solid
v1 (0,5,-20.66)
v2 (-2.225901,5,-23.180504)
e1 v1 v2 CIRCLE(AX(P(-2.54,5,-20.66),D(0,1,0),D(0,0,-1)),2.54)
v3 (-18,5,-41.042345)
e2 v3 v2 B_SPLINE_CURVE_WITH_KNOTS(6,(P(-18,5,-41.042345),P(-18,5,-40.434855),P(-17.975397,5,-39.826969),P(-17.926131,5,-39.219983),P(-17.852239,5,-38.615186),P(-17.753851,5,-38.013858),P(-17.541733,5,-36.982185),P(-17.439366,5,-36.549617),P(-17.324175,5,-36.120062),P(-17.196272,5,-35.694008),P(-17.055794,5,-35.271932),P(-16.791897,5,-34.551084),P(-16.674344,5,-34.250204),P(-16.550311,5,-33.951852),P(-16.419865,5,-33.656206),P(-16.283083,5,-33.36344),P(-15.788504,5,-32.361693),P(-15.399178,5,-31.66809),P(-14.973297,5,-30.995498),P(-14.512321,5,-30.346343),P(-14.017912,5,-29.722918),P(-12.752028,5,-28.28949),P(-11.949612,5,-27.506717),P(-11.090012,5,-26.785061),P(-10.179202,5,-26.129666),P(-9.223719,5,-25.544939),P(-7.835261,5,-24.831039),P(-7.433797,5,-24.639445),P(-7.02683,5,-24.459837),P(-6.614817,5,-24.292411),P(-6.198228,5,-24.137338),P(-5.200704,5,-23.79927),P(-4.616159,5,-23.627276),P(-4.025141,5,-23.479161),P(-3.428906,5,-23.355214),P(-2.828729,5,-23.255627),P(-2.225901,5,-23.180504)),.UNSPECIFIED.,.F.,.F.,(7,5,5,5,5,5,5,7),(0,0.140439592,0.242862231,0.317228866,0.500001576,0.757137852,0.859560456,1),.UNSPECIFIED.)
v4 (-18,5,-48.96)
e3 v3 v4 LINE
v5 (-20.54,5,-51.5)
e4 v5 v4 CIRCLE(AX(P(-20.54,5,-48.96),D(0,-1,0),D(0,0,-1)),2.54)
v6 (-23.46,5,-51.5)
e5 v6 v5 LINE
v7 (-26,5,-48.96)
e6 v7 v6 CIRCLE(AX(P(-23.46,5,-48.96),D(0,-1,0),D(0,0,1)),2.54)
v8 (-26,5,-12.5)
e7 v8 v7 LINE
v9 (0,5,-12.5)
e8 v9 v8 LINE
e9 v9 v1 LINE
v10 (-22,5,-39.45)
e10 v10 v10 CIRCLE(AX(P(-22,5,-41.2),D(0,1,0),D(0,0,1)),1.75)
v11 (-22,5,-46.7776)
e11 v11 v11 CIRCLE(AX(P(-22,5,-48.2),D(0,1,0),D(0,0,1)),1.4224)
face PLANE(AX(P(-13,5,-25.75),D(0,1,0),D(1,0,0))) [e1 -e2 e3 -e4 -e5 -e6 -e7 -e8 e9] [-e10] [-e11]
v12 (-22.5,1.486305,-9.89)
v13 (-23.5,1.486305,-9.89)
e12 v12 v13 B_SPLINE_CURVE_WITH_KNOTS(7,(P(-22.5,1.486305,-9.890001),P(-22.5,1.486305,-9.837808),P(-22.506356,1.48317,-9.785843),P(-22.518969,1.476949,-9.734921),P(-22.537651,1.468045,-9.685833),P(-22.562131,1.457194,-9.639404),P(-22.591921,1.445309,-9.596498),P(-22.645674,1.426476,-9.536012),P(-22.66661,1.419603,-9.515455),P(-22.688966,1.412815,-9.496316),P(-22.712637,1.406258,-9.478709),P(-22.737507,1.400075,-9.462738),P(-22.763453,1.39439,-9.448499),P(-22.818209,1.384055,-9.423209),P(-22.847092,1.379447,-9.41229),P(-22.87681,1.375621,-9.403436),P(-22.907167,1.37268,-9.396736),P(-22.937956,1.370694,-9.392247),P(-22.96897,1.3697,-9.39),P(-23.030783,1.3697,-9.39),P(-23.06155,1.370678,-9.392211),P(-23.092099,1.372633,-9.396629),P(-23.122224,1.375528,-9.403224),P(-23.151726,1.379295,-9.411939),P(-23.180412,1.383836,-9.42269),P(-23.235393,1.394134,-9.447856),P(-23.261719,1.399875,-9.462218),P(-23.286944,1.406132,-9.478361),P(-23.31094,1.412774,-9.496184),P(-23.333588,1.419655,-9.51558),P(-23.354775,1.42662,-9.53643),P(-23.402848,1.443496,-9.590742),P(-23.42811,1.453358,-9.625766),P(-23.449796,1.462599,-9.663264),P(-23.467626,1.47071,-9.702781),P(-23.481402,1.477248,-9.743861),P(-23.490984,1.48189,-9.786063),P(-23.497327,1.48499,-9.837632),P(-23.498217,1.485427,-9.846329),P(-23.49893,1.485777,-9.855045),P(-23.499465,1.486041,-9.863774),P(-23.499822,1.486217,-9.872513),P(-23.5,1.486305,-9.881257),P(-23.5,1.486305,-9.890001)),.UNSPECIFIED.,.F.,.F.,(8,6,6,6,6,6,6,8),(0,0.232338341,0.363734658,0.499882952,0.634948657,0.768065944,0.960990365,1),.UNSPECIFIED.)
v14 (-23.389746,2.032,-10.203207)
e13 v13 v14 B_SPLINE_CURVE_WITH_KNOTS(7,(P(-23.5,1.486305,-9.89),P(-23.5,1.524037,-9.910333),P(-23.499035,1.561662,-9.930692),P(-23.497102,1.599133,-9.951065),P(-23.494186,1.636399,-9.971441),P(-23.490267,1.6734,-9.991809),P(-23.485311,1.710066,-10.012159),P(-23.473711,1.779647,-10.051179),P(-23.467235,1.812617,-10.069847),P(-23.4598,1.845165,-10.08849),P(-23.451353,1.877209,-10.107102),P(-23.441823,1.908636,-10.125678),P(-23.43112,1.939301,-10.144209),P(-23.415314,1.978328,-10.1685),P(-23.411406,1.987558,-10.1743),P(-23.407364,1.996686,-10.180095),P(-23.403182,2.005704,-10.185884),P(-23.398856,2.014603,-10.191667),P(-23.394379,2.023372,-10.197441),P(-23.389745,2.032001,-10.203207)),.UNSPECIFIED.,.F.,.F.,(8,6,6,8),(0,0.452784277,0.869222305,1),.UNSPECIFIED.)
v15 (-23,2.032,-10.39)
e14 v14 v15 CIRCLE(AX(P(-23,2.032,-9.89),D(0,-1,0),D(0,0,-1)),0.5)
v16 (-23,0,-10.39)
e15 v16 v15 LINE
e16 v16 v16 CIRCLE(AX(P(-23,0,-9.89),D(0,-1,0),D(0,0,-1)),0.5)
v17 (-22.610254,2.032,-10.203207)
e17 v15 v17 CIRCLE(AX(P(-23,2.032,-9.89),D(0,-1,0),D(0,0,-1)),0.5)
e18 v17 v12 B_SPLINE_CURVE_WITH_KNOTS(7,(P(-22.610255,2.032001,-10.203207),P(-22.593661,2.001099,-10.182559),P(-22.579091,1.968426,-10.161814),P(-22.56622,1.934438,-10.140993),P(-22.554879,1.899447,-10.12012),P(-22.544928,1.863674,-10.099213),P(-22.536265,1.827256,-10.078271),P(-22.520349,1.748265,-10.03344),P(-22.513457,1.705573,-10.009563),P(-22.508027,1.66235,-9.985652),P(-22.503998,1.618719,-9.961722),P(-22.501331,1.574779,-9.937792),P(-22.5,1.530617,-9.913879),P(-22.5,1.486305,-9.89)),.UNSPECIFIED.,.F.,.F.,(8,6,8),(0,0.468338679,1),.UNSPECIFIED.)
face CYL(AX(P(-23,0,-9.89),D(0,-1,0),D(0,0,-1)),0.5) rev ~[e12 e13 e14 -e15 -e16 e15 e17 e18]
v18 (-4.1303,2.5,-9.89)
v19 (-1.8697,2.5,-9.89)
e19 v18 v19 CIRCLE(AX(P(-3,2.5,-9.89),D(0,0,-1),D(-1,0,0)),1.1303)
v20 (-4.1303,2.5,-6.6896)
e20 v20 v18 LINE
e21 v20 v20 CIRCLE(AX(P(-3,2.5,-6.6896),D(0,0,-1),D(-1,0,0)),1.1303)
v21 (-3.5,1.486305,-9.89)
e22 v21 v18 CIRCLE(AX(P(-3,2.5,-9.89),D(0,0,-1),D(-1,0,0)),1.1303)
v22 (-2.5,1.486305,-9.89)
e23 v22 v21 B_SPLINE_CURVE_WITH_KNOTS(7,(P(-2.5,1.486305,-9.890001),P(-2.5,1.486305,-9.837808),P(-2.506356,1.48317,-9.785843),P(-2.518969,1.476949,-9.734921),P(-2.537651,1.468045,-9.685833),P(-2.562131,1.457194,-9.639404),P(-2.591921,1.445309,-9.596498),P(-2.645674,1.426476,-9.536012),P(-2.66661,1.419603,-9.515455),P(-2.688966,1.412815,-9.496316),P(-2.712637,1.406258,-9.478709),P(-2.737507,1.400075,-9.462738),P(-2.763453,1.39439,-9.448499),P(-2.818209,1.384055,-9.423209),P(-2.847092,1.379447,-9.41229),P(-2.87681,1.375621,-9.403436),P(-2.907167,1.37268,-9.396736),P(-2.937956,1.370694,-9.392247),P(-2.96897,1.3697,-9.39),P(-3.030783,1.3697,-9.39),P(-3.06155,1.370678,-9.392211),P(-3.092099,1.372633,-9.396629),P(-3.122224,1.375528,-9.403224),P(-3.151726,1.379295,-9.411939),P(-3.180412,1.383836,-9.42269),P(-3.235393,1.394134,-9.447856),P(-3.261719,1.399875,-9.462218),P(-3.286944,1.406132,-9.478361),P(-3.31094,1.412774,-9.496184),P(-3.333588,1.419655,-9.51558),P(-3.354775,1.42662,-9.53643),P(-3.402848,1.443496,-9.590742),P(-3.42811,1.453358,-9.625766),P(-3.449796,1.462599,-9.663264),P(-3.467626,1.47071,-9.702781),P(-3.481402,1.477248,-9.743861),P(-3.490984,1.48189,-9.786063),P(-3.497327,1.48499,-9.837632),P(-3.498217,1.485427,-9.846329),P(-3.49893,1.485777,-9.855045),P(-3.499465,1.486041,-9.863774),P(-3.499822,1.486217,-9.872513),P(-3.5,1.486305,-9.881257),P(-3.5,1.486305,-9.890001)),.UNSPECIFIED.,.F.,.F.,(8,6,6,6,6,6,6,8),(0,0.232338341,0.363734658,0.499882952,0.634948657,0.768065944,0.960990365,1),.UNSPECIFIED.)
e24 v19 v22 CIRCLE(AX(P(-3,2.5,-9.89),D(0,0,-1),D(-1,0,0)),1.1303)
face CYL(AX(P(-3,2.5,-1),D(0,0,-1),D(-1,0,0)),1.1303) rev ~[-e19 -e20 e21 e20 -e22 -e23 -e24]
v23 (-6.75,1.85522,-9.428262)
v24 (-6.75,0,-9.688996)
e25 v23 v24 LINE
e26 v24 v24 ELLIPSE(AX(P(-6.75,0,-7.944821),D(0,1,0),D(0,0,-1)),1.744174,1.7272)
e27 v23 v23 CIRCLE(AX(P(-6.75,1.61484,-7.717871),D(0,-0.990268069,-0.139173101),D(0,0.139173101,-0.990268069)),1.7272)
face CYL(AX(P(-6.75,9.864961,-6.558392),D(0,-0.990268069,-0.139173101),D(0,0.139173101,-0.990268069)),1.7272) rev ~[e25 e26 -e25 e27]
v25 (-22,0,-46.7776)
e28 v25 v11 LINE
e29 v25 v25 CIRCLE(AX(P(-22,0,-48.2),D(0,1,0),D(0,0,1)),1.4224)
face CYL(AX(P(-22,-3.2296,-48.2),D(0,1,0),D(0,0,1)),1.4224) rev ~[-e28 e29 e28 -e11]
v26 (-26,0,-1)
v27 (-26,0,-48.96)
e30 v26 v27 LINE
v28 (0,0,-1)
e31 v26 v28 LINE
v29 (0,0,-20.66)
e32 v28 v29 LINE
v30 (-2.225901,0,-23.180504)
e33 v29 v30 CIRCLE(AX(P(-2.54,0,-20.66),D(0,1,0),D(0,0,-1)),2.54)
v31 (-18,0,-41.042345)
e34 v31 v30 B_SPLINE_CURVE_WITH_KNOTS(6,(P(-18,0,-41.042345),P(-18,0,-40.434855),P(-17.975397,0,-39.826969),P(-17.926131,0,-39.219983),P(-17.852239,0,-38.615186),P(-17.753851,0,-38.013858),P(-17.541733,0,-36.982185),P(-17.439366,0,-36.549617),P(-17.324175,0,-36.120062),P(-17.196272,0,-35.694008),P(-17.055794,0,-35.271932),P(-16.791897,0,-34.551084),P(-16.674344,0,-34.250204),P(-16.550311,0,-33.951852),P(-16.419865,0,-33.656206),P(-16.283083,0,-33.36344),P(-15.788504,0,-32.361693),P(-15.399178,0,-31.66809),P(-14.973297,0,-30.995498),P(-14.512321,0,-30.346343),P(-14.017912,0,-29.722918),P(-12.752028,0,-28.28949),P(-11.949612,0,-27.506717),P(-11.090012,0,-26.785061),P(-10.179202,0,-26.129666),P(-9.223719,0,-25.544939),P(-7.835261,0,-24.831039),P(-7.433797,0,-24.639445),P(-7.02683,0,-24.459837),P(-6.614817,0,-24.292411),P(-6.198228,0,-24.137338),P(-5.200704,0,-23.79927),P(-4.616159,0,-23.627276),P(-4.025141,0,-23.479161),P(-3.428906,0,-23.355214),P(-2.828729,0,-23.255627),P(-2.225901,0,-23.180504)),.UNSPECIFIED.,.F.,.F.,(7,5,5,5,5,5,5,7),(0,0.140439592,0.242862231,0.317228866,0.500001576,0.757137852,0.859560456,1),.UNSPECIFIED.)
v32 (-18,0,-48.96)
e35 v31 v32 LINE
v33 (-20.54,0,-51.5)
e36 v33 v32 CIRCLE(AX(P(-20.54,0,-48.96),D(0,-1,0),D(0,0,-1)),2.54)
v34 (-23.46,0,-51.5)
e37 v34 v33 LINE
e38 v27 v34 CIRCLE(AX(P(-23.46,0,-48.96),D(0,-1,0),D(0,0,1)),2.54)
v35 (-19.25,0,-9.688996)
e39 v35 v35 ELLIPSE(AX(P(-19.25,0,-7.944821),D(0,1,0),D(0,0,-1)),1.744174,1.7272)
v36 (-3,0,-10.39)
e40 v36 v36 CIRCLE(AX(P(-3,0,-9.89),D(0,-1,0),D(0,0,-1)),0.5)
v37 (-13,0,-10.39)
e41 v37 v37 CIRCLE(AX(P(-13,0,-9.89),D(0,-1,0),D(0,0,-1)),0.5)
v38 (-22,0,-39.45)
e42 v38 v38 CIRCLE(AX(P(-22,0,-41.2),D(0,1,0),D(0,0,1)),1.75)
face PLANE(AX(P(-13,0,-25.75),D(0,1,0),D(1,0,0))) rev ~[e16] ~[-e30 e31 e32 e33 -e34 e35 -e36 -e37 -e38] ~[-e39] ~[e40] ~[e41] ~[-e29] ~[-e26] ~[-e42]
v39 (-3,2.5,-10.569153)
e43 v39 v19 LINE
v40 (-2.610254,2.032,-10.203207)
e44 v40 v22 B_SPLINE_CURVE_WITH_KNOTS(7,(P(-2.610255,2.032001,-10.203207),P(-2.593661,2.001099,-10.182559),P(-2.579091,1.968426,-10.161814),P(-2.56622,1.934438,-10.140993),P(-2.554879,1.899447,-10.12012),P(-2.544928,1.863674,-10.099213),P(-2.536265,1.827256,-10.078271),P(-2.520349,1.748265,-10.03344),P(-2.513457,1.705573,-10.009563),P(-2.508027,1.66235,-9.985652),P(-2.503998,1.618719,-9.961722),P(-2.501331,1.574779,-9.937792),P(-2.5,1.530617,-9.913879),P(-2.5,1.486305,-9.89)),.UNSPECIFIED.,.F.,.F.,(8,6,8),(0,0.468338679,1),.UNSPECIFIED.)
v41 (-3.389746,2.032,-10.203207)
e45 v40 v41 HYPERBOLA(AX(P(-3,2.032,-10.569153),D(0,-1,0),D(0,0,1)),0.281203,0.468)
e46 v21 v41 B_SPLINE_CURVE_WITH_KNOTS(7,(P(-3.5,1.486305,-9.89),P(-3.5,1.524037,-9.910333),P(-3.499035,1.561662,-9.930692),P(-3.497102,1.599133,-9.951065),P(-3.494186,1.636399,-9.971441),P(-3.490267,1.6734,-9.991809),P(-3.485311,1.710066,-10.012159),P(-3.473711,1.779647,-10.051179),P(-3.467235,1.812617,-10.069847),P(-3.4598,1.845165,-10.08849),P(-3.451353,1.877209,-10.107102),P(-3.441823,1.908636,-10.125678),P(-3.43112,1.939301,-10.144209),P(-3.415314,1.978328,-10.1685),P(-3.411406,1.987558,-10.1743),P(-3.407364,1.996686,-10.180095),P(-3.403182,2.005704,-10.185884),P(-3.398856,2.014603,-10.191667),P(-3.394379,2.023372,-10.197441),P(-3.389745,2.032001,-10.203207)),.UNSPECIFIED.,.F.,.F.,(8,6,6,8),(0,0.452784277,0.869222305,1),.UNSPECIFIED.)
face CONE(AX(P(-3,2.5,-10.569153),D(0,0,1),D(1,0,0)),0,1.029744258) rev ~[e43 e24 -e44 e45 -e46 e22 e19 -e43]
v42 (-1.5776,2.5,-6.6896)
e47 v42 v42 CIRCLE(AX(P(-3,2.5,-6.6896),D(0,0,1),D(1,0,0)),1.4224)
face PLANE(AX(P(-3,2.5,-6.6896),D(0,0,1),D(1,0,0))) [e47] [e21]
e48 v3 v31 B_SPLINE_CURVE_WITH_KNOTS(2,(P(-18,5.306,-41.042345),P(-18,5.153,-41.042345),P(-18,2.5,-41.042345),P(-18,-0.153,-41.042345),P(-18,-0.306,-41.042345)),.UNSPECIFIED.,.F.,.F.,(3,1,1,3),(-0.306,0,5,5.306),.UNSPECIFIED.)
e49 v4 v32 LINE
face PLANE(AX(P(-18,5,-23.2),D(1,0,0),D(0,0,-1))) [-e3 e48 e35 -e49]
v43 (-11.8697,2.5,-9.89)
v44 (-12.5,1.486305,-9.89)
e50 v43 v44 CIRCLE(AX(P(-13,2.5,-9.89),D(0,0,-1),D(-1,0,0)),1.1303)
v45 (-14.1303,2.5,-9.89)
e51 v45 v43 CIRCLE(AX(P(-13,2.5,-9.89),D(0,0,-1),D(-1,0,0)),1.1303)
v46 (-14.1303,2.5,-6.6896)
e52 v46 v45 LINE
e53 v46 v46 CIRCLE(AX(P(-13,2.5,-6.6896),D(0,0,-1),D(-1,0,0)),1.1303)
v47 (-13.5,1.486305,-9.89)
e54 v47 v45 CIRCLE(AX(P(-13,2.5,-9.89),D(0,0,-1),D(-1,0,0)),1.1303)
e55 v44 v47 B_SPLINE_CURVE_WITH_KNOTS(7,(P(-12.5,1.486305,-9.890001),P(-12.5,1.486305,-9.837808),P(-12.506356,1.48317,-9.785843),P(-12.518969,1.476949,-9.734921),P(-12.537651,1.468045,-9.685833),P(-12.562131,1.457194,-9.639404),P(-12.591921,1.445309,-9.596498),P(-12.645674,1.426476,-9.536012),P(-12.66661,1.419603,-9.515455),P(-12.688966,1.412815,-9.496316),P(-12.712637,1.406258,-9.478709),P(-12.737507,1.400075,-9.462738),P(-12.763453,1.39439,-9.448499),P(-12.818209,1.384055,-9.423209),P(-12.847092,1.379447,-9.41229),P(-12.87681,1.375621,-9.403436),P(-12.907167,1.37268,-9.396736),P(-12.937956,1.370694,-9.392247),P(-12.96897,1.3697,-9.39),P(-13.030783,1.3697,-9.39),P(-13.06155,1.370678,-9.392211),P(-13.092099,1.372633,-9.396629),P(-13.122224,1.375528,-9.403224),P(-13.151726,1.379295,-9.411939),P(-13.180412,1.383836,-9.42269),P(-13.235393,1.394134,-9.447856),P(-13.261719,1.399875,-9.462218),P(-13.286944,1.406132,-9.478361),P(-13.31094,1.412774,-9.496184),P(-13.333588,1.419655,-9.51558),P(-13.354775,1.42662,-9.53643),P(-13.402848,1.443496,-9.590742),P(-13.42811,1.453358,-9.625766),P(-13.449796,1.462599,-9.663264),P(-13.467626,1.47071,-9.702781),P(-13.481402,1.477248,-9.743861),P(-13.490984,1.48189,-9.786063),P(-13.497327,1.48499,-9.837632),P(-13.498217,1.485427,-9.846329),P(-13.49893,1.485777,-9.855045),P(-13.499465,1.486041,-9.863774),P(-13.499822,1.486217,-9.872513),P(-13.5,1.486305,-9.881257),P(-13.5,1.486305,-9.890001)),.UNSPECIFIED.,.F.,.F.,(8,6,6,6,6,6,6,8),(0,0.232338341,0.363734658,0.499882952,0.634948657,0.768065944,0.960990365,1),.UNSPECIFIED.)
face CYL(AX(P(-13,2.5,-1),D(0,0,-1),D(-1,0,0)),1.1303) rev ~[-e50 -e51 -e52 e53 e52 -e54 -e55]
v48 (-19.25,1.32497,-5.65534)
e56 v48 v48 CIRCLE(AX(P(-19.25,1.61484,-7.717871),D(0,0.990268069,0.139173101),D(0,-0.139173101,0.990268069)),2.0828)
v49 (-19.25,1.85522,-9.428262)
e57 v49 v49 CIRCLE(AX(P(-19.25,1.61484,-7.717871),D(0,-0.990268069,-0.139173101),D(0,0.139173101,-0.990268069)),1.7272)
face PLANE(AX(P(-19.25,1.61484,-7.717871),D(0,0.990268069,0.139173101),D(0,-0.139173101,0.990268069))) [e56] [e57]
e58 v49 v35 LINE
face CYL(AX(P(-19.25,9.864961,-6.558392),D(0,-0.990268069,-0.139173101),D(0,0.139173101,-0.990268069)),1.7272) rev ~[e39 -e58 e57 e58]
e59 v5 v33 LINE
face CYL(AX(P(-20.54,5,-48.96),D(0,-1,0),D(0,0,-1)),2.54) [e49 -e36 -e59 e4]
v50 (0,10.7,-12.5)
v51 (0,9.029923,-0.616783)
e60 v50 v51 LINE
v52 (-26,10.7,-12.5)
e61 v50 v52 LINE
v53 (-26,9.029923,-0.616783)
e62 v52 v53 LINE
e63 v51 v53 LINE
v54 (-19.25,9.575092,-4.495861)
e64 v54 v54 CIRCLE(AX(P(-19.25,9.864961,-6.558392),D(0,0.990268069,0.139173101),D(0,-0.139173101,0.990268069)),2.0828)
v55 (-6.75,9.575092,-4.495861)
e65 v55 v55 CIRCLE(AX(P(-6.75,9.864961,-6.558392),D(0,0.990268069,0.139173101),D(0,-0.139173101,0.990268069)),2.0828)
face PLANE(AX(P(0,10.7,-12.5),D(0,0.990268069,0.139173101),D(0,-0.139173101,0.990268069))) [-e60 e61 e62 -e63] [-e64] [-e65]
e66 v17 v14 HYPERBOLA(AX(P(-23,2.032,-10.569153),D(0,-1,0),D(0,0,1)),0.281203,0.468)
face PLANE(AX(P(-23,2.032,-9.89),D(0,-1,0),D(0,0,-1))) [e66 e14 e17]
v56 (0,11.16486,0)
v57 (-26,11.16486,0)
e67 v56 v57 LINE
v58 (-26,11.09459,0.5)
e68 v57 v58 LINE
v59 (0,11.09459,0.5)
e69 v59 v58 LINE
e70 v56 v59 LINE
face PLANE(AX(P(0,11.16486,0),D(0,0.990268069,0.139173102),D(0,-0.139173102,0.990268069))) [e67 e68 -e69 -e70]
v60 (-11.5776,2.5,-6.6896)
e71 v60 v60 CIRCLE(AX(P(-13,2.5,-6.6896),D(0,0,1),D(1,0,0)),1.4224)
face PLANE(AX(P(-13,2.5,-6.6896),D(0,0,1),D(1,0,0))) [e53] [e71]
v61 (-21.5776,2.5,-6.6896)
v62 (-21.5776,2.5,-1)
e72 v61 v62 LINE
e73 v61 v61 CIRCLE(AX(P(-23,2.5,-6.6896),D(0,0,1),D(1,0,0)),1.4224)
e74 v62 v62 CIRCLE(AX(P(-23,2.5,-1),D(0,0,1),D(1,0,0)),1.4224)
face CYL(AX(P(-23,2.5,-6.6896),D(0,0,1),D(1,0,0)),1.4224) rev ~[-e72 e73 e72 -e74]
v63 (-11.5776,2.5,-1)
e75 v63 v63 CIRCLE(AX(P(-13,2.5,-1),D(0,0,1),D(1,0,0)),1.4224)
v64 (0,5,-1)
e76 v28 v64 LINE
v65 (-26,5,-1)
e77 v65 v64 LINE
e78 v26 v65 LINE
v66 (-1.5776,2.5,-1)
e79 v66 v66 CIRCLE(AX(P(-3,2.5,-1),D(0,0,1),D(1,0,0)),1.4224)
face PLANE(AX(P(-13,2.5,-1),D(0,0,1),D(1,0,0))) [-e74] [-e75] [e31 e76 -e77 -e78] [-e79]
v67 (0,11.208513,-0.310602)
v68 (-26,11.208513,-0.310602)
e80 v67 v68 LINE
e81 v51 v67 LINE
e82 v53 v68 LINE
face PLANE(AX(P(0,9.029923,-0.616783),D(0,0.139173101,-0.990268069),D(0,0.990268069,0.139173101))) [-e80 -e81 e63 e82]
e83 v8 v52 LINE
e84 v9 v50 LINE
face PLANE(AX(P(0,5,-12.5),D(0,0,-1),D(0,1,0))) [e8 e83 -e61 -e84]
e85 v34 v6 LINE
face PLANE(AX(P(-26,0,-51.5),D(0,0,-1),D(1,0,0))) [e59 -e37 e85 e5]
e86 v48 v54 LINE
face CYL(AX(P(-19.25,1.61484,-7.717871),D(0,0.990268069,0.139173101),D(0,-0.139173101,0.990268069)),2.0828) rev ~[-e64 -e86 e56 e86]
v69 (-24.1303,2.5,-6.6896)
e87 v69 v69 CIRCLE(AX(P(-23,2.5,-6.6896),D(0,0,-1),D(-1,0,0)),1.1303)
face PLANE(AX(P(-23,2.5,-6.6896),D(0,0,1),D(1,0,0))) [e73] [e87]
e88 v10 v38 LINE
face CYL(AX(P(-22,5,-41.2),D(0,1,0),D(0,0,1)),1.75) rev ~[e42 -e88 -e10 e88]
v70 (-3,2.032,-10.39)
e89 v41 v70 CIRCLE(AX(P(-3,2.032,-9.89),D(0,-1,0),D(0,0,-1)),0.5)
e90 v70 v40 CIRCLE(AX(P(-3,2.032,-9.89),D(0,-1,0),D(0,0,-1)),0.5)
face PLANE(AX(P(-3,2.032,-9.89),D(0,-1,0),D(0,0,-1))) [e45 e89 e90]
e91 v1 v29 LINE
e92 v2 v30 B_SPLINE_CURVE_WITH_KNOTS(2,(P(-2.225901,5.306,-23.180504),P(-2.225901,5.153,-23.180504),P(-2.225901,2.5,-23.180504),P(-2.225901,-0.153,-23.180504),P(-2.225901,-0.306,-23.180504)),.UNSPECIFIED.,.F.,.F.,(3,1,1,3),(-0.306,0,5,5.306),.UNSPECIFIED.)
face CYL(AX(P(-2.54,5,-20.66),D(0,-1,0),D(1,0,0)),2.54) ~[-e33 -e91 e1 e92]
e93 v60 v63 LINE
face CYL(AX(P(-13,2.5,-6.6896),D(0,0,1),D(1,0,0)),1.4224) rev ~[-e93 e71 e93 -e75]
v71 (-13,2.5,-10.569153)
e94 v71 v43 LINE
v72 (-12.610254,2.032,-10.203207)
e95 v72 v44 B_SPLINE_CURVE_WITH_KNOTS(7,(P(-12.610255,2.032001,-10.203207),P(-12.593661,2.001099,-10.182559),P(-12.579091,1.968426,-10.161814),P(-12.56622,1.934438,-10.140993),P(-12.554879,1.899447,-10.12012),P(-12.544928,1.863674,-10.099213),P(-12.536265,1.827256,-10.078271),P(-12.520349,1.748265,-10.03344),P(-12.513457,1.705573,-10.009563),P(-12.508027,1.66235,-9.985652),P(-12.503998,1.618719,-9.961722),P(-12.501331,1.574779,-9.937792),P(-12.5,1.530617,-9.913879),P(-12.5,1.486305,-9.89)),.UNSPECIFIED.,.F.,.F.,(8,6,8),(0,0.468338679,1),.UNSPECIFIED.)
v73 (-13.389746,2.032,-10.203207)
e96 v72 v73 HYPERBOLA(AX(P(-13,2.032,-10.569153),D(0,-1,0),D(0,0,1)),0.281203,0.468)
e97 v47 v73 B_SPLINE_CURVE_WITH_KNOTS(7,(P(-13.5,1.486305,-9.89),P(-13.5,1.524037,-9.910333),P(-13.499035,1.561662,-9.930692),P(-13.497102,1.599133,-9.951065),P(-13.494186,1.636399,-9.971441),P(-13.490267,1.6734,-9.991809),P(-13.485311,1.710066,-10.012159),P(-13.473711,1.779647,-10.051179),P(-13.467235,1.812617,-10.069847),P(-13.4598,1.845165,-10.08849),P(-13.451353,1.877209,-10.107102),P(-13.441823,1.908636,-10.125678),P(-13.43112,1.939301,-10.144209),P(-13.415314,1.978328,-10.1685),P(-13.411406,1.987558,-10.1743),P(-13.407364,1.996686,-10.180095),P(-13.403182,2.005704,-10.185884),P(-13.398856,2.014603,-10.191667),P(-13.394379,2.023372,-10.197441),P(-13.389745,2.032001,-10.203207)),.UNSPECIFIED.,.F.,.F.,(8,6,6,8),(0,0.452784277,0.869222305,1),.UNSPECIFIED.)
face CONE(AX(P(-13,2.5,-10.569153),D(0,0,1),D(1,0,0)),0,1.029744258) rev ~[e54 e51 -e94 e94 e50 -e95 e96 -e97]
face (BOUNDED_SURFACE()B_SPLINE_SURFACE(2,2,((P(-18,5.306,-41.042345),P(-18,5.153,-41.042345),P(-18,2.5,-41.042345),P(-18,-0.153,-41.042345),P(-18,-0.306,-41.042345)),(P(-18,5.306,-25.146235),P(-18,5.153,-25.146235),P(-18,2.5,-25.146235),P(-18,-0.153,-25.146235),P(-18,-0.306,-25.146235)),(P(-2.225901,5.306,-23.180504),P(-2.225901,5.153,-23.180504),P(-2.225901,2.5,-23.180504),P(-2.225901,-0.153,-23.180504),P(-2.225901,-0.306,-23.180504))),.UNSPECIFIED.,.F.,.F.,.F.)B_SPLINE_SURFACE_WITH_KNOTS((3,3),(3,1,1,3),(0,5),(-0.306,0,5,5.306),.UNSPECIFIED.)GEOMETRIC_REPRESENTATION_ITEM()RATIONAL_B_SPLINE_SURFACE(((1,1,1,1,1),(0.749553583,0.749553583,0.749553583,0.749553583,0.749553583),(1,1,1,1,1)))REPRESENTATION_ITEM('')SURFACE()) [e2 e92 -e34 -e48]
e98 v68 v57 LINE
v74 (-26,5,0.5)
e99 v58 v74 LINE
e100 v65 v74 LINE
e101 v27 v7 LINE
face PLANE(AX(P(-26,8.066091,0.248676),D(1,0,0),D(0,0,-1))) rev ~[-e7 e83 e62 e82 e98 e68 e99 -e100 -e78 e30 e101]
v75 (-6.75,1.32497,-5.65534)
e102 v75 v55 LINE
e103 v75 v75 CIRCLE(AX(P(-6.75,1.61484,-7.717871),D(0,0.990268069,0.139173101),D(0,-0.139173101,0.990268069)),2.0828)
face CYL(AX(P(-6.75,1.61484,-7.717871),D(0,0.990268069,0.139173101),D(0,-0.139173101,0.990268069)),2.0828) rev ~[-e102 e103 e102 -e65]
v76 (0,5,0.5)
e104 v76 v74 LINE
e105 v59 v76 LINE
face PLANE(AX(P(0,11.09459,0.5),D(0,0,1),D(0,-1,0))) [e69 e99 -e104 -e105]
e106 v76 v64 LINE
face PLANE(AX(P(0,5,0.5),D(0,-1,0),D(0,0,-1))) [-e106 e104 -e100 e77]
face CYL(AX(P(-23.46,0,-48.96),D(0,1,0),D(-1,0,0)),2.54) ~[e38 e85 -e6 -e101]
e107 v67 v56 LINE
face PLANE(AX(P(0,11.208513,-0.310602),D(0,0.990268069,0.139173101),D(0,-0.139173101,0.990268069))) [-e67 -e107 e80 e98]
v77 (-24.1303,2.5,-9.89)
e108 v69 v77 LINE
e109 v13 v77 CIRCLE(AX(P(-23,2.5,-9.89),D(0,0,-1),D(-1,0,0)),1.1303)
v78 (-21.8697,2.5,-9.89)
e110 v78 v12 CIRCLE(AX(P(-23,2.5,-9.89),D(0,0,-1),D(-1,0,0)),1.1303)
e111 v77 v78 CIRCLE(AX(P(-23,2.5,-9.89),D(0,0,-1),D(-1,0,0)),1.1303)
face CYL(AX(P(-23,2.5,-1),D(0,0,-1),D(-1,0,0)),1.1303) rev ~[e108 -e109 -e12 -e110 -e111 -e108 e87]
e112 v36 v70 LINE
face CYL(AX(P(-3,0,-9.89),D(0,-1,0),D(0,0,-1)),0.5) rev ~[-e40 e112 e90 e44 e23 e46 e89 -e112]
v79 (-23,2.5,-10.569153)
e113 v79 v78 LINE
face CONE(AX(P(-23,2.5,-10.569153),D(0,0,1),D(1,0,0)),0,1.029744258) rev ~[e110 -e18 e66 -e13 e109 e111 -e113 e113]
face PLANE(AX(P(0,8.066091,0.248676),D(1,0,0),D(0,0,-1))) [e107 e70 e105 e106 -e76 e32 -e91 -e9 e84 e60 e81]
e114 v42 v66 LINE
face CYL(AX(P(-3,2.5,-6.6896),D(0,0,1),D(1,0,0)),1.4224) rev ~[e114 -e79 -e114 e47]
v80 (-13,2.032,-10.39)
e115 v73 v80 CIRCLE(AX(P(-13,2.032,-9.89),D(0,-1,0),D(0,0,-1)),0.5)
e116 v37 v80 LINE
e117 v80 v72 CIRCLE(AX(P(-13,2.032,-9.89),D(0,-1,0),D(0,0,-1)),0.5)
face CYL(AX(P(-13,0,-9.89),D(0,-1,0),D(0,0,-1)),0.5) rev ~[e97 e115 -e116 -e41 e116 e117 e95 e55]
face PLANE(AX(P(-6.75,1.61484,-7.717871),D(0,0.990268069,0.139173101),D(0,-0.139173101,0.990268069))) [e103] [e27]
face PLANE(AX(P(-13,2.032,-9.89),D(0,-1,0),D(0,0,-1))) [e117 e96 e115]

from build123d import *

# Parameters (mm, degrees)
SKETCH1_W                       = 26
SKETCH1_H                       = 51.5
EXTRUDE1_DEPTH                  = 5
SKETCH2_W                       = 18
SKETCH2_H                       = 28.3
EXTRUDE2_DEPTH                  = 5
FILLET1_R                       = 2.54
FILLET2_R                       = 18
EXTRUDE3_DEPTH                  = 26
SKETCH4_W                       = 26
SKETCH4_H                       = 5
EXTRUDE4_DEPTH                  = 1
F_4_40_TAPPED_HOLE1_D           = 2.2606
F_4_40_TAPPED_HOLE1_DEPTH       = 10.1346
F_4_40_TAPPED_HOLE1_CBORE_D     = 2.8448
F_4_40_TAPPED_HOLE1_CBORE_DEPTH = 8.2296
F_4_40_TAPPED_HOLE1_TIP         = 0.679152758
SKETCH6_R                       = 1.75
EXTRUDE5_DEPTH                  = 6.0000001
F_8_32_TAPPED_HOLE1_D           = 3.4544
F_8_32_TAPPED_HOLE1_DEPTH       = 10.7188
F_8_32_TAPPED_HOLE1_CBORE_D     = 4.1656
F_8_32_TAPPED_HOLE1_CBORE_DEPTH = 8.3312
F_8_32_TAPPED_HOLE1_TIP         = 1.037806461
F_4_40_TAPPED_HOLE2_D           = 2.2606
F_4_40_TAPPED_HOLE2_DEPTH       = 8.89
F_4_40_TAPPED_HOLE2_CBORE_D     = 2.8448
F_4_40_TAPPED_HOLE2_CBORE_DEPTH = 5.6896
F_4_40_TAPPED_HOLE2_TIP         = 0.679152758
SKETCH9_R                       = 0.5
EXTRUDE6_DEPTH                  = 2.032
BOSS_EXTRUDE2_DEPTH             = 26


with BuildPart() as part:
    # Sketch1 → Extrude1 (new body)
    with BuildSketch(Plane(origin=(0, 0, 0), x_dir=(1, 0, 0), z_dir=(0, 1, 0))):
        with Locations((-13, 25.75)):
            Rectangle(SKETCH1_W, SKETCH1_H)
    extrude(amount=EXTRUDE1_DEPTH)

    # Sketch2 → Extrude2 (cut)
    with BuildSketch(Plane(origin=(0, 5, 0), x_dir=(1, 0, 0), z_dir=(0, 1, 0))):
        with Locations((-9, 37.35)):
            Rectangle(SKETCH2_W, SKETCH2_H)
    extrude(amount=-EXTRUDE2_DEPTH, mode=Mode.SUBTRACT)

    # Fillet1
    fillet1_edges = [part.edges().sort_by_distance(p)[0] for p in [
        (0, 2.5, -23.2),
        (-18, 2.5, -51.5),
        (-26, 2.5, -51.5),
    ]]
    fillet(fillet1_edges, radius=FILLET1_R)

    # Fillet2
    fillet2_edges = [part.edges().sort_by_distance(p)[0] for p in [
        (-18, 2.5, -23.2),
    ]]
    fillet(fillet2_edges, radius=FILLET2_R)

    # Sketch3 → Extrude3 (add, through all)
    with BuildSketch(Plane(origin=(0, 0, 0), x_dir=(0, 0, -1), z_dir=(1, 0, 0))):
        Polygon((0, 5), (12.5, 5), (12.5, 10.7), (0.616783175, 9.029922788), (0.310602353, 11.20851254), (0, 11.164860226), align=None)
    extrude(amount=-EXTRUDE3_DEPTH)

    # Sketch4 → Extrude4 (cut)
    with BuildSketch(Plane.XY):
        with Locations((-13, 2.5)):
            Rectangle(SKETCH4_W, SKETCH4_H)
    extrude(amount=-EXTRUDE4_DEPTH, mode=Mode.SUBTRACT)

    # #4-40 Tapped Hole1
    with Locations(Plane(origin=(-22, 5, -48.2), x_dir=(0, 0, 1), z_dir=(0, 1, 0))):
        with Locations((0, 0)):
            CounterBoreHole(F_4_40_TAPPED_HOLE1_D / 2, F_4_40_TAPPED_HOLE1_CBORE_D / 2, F_4_40_TAPPED_HOLE1_CBORE_DEPTH, depth=F_4_40_TAPPED_HOLE1_DEPTH)
            with Locations((0, 0, -(F_4_40_TAPPED_HOLE1_DEPTH + F_4_40_TAPPED_HOLE1_TIP / 2))):  # 118° drill point
                Cone(0, F_4_40_TAPPED_HOLE1_D / 2, F_4_40_TAPPED_HOLE1_TIP, mode=Mode.SUBTRACT)

    # Sketch6 → Extrude5 (cut, through all)
    with BuildSketch(Plane(origin=(0, 5, 0), x_dir=(1, 0, 0), z_dir=(0, 1, 0))):
        with Locations(Location((-22, 41.2, 0), (0, 0, 270))):  # turned: the seam where the file's is
            Circle(SKETCH6_R)
    extrude(amount=-EXTRUDE5_DEPTH, mode=Mode.SUBTRACT)

    # #8-32 Tapped Hole1
    with Locations(Plane(origin=(-19.25, 9.864961394, -6.558391588), x_dir=(0, -0.139173101, 0.990268069), z_dir=(0, 0.990268069, 0.139173101))):
        with Locations((0, 0), (0, 12.5)):
            CounterBoreHole(F_8_32_TAPPED_HOLE1_D / 2, F_8_32_TAPPED_HOLE1_CBORE_D / 2, F_8_32_TAPPED_HOLE1_CBORE_DEPTH, depth=F_8_32_TAPPED_HOLE1_DEPTH)
            with Locations((0, 0, -(F_8_32_TAPPED_HOLE1_DEPTH + F_8_32_TAPPED_HOLE1_TIP / 2))):  # 118° drill point
                Cone(0, F_8_32_TAPPED_HOLE1_D / 2, F_8_32_TAPPED_HOLE1_TIP, mode=Mode.SUBTRACT)

    # #4-40 Tapped Hole2
    with Locations(Plane(origin=(-23, 2.5, -1), x_dir=(1, 0, 0), z_dir=(0, 0, 1))):
        with Locations((0, 0), (10, 0), (20, 0)):
            CounterBoreHole(F_4_40_TAPPED_HOLE2_D / 2, F_4_40_TAPPED_HOLE2_CBORE_D / 2, F_4_40_TAPPED_HOLE2_CBORE_DEPTH, depth=F_4_40_TAPPED_HOLE2_DEPTH)
            with Locations((0, 0, -(F_4_40_TAPPED_HOLE2_DEPTH + F_4_40_TAPPED_HOLE2_TIP / 2))):  # 118° drill point
                Cone(0, F_4_40_TAPPED_HOLE2_D / 2, F_4_40_TAPPED_HOLE2_TIP, mode=Mode.SUBTRACT)

    # Sketch9 → Extrude6 (cut)
    with BuildSketch(Plane.XZ):
        with Locations(Location((-23, -9.89, 0), (0, 0, 270))):  # turned: the seam where the file's is
            Circle(SKETCH9_R)
        with Locations(Location((-13, -9.89, 0), (0, 0, 270))):  # turned: the seam where the file's is
            Circle(SKETCH9_R)
        with Locations(Location((-3, -9.89, 0), (0, 0, 270))):  # turned: the seam where the file's is
            Circle(SKETCH9_R)
    extrude(amount=-EXTRUDE6_DEPTH, mode=Mode.SUBTRACT)

    # Sketch12 → Boss-Extrude2 (add)
    with BuildSketch(Plane(origin=(0, 0, 0), x_dir=(0, 0, -1), z_dir=(1, 0, 0))):
        Polygon((0, 11.164860226), (-0.5, 11.094589808), (-0.5, 5), (0, 5), align=None)
    extrude(amount=-BOSS_EXTRUDE2_DEPTH)


solid = part.part
